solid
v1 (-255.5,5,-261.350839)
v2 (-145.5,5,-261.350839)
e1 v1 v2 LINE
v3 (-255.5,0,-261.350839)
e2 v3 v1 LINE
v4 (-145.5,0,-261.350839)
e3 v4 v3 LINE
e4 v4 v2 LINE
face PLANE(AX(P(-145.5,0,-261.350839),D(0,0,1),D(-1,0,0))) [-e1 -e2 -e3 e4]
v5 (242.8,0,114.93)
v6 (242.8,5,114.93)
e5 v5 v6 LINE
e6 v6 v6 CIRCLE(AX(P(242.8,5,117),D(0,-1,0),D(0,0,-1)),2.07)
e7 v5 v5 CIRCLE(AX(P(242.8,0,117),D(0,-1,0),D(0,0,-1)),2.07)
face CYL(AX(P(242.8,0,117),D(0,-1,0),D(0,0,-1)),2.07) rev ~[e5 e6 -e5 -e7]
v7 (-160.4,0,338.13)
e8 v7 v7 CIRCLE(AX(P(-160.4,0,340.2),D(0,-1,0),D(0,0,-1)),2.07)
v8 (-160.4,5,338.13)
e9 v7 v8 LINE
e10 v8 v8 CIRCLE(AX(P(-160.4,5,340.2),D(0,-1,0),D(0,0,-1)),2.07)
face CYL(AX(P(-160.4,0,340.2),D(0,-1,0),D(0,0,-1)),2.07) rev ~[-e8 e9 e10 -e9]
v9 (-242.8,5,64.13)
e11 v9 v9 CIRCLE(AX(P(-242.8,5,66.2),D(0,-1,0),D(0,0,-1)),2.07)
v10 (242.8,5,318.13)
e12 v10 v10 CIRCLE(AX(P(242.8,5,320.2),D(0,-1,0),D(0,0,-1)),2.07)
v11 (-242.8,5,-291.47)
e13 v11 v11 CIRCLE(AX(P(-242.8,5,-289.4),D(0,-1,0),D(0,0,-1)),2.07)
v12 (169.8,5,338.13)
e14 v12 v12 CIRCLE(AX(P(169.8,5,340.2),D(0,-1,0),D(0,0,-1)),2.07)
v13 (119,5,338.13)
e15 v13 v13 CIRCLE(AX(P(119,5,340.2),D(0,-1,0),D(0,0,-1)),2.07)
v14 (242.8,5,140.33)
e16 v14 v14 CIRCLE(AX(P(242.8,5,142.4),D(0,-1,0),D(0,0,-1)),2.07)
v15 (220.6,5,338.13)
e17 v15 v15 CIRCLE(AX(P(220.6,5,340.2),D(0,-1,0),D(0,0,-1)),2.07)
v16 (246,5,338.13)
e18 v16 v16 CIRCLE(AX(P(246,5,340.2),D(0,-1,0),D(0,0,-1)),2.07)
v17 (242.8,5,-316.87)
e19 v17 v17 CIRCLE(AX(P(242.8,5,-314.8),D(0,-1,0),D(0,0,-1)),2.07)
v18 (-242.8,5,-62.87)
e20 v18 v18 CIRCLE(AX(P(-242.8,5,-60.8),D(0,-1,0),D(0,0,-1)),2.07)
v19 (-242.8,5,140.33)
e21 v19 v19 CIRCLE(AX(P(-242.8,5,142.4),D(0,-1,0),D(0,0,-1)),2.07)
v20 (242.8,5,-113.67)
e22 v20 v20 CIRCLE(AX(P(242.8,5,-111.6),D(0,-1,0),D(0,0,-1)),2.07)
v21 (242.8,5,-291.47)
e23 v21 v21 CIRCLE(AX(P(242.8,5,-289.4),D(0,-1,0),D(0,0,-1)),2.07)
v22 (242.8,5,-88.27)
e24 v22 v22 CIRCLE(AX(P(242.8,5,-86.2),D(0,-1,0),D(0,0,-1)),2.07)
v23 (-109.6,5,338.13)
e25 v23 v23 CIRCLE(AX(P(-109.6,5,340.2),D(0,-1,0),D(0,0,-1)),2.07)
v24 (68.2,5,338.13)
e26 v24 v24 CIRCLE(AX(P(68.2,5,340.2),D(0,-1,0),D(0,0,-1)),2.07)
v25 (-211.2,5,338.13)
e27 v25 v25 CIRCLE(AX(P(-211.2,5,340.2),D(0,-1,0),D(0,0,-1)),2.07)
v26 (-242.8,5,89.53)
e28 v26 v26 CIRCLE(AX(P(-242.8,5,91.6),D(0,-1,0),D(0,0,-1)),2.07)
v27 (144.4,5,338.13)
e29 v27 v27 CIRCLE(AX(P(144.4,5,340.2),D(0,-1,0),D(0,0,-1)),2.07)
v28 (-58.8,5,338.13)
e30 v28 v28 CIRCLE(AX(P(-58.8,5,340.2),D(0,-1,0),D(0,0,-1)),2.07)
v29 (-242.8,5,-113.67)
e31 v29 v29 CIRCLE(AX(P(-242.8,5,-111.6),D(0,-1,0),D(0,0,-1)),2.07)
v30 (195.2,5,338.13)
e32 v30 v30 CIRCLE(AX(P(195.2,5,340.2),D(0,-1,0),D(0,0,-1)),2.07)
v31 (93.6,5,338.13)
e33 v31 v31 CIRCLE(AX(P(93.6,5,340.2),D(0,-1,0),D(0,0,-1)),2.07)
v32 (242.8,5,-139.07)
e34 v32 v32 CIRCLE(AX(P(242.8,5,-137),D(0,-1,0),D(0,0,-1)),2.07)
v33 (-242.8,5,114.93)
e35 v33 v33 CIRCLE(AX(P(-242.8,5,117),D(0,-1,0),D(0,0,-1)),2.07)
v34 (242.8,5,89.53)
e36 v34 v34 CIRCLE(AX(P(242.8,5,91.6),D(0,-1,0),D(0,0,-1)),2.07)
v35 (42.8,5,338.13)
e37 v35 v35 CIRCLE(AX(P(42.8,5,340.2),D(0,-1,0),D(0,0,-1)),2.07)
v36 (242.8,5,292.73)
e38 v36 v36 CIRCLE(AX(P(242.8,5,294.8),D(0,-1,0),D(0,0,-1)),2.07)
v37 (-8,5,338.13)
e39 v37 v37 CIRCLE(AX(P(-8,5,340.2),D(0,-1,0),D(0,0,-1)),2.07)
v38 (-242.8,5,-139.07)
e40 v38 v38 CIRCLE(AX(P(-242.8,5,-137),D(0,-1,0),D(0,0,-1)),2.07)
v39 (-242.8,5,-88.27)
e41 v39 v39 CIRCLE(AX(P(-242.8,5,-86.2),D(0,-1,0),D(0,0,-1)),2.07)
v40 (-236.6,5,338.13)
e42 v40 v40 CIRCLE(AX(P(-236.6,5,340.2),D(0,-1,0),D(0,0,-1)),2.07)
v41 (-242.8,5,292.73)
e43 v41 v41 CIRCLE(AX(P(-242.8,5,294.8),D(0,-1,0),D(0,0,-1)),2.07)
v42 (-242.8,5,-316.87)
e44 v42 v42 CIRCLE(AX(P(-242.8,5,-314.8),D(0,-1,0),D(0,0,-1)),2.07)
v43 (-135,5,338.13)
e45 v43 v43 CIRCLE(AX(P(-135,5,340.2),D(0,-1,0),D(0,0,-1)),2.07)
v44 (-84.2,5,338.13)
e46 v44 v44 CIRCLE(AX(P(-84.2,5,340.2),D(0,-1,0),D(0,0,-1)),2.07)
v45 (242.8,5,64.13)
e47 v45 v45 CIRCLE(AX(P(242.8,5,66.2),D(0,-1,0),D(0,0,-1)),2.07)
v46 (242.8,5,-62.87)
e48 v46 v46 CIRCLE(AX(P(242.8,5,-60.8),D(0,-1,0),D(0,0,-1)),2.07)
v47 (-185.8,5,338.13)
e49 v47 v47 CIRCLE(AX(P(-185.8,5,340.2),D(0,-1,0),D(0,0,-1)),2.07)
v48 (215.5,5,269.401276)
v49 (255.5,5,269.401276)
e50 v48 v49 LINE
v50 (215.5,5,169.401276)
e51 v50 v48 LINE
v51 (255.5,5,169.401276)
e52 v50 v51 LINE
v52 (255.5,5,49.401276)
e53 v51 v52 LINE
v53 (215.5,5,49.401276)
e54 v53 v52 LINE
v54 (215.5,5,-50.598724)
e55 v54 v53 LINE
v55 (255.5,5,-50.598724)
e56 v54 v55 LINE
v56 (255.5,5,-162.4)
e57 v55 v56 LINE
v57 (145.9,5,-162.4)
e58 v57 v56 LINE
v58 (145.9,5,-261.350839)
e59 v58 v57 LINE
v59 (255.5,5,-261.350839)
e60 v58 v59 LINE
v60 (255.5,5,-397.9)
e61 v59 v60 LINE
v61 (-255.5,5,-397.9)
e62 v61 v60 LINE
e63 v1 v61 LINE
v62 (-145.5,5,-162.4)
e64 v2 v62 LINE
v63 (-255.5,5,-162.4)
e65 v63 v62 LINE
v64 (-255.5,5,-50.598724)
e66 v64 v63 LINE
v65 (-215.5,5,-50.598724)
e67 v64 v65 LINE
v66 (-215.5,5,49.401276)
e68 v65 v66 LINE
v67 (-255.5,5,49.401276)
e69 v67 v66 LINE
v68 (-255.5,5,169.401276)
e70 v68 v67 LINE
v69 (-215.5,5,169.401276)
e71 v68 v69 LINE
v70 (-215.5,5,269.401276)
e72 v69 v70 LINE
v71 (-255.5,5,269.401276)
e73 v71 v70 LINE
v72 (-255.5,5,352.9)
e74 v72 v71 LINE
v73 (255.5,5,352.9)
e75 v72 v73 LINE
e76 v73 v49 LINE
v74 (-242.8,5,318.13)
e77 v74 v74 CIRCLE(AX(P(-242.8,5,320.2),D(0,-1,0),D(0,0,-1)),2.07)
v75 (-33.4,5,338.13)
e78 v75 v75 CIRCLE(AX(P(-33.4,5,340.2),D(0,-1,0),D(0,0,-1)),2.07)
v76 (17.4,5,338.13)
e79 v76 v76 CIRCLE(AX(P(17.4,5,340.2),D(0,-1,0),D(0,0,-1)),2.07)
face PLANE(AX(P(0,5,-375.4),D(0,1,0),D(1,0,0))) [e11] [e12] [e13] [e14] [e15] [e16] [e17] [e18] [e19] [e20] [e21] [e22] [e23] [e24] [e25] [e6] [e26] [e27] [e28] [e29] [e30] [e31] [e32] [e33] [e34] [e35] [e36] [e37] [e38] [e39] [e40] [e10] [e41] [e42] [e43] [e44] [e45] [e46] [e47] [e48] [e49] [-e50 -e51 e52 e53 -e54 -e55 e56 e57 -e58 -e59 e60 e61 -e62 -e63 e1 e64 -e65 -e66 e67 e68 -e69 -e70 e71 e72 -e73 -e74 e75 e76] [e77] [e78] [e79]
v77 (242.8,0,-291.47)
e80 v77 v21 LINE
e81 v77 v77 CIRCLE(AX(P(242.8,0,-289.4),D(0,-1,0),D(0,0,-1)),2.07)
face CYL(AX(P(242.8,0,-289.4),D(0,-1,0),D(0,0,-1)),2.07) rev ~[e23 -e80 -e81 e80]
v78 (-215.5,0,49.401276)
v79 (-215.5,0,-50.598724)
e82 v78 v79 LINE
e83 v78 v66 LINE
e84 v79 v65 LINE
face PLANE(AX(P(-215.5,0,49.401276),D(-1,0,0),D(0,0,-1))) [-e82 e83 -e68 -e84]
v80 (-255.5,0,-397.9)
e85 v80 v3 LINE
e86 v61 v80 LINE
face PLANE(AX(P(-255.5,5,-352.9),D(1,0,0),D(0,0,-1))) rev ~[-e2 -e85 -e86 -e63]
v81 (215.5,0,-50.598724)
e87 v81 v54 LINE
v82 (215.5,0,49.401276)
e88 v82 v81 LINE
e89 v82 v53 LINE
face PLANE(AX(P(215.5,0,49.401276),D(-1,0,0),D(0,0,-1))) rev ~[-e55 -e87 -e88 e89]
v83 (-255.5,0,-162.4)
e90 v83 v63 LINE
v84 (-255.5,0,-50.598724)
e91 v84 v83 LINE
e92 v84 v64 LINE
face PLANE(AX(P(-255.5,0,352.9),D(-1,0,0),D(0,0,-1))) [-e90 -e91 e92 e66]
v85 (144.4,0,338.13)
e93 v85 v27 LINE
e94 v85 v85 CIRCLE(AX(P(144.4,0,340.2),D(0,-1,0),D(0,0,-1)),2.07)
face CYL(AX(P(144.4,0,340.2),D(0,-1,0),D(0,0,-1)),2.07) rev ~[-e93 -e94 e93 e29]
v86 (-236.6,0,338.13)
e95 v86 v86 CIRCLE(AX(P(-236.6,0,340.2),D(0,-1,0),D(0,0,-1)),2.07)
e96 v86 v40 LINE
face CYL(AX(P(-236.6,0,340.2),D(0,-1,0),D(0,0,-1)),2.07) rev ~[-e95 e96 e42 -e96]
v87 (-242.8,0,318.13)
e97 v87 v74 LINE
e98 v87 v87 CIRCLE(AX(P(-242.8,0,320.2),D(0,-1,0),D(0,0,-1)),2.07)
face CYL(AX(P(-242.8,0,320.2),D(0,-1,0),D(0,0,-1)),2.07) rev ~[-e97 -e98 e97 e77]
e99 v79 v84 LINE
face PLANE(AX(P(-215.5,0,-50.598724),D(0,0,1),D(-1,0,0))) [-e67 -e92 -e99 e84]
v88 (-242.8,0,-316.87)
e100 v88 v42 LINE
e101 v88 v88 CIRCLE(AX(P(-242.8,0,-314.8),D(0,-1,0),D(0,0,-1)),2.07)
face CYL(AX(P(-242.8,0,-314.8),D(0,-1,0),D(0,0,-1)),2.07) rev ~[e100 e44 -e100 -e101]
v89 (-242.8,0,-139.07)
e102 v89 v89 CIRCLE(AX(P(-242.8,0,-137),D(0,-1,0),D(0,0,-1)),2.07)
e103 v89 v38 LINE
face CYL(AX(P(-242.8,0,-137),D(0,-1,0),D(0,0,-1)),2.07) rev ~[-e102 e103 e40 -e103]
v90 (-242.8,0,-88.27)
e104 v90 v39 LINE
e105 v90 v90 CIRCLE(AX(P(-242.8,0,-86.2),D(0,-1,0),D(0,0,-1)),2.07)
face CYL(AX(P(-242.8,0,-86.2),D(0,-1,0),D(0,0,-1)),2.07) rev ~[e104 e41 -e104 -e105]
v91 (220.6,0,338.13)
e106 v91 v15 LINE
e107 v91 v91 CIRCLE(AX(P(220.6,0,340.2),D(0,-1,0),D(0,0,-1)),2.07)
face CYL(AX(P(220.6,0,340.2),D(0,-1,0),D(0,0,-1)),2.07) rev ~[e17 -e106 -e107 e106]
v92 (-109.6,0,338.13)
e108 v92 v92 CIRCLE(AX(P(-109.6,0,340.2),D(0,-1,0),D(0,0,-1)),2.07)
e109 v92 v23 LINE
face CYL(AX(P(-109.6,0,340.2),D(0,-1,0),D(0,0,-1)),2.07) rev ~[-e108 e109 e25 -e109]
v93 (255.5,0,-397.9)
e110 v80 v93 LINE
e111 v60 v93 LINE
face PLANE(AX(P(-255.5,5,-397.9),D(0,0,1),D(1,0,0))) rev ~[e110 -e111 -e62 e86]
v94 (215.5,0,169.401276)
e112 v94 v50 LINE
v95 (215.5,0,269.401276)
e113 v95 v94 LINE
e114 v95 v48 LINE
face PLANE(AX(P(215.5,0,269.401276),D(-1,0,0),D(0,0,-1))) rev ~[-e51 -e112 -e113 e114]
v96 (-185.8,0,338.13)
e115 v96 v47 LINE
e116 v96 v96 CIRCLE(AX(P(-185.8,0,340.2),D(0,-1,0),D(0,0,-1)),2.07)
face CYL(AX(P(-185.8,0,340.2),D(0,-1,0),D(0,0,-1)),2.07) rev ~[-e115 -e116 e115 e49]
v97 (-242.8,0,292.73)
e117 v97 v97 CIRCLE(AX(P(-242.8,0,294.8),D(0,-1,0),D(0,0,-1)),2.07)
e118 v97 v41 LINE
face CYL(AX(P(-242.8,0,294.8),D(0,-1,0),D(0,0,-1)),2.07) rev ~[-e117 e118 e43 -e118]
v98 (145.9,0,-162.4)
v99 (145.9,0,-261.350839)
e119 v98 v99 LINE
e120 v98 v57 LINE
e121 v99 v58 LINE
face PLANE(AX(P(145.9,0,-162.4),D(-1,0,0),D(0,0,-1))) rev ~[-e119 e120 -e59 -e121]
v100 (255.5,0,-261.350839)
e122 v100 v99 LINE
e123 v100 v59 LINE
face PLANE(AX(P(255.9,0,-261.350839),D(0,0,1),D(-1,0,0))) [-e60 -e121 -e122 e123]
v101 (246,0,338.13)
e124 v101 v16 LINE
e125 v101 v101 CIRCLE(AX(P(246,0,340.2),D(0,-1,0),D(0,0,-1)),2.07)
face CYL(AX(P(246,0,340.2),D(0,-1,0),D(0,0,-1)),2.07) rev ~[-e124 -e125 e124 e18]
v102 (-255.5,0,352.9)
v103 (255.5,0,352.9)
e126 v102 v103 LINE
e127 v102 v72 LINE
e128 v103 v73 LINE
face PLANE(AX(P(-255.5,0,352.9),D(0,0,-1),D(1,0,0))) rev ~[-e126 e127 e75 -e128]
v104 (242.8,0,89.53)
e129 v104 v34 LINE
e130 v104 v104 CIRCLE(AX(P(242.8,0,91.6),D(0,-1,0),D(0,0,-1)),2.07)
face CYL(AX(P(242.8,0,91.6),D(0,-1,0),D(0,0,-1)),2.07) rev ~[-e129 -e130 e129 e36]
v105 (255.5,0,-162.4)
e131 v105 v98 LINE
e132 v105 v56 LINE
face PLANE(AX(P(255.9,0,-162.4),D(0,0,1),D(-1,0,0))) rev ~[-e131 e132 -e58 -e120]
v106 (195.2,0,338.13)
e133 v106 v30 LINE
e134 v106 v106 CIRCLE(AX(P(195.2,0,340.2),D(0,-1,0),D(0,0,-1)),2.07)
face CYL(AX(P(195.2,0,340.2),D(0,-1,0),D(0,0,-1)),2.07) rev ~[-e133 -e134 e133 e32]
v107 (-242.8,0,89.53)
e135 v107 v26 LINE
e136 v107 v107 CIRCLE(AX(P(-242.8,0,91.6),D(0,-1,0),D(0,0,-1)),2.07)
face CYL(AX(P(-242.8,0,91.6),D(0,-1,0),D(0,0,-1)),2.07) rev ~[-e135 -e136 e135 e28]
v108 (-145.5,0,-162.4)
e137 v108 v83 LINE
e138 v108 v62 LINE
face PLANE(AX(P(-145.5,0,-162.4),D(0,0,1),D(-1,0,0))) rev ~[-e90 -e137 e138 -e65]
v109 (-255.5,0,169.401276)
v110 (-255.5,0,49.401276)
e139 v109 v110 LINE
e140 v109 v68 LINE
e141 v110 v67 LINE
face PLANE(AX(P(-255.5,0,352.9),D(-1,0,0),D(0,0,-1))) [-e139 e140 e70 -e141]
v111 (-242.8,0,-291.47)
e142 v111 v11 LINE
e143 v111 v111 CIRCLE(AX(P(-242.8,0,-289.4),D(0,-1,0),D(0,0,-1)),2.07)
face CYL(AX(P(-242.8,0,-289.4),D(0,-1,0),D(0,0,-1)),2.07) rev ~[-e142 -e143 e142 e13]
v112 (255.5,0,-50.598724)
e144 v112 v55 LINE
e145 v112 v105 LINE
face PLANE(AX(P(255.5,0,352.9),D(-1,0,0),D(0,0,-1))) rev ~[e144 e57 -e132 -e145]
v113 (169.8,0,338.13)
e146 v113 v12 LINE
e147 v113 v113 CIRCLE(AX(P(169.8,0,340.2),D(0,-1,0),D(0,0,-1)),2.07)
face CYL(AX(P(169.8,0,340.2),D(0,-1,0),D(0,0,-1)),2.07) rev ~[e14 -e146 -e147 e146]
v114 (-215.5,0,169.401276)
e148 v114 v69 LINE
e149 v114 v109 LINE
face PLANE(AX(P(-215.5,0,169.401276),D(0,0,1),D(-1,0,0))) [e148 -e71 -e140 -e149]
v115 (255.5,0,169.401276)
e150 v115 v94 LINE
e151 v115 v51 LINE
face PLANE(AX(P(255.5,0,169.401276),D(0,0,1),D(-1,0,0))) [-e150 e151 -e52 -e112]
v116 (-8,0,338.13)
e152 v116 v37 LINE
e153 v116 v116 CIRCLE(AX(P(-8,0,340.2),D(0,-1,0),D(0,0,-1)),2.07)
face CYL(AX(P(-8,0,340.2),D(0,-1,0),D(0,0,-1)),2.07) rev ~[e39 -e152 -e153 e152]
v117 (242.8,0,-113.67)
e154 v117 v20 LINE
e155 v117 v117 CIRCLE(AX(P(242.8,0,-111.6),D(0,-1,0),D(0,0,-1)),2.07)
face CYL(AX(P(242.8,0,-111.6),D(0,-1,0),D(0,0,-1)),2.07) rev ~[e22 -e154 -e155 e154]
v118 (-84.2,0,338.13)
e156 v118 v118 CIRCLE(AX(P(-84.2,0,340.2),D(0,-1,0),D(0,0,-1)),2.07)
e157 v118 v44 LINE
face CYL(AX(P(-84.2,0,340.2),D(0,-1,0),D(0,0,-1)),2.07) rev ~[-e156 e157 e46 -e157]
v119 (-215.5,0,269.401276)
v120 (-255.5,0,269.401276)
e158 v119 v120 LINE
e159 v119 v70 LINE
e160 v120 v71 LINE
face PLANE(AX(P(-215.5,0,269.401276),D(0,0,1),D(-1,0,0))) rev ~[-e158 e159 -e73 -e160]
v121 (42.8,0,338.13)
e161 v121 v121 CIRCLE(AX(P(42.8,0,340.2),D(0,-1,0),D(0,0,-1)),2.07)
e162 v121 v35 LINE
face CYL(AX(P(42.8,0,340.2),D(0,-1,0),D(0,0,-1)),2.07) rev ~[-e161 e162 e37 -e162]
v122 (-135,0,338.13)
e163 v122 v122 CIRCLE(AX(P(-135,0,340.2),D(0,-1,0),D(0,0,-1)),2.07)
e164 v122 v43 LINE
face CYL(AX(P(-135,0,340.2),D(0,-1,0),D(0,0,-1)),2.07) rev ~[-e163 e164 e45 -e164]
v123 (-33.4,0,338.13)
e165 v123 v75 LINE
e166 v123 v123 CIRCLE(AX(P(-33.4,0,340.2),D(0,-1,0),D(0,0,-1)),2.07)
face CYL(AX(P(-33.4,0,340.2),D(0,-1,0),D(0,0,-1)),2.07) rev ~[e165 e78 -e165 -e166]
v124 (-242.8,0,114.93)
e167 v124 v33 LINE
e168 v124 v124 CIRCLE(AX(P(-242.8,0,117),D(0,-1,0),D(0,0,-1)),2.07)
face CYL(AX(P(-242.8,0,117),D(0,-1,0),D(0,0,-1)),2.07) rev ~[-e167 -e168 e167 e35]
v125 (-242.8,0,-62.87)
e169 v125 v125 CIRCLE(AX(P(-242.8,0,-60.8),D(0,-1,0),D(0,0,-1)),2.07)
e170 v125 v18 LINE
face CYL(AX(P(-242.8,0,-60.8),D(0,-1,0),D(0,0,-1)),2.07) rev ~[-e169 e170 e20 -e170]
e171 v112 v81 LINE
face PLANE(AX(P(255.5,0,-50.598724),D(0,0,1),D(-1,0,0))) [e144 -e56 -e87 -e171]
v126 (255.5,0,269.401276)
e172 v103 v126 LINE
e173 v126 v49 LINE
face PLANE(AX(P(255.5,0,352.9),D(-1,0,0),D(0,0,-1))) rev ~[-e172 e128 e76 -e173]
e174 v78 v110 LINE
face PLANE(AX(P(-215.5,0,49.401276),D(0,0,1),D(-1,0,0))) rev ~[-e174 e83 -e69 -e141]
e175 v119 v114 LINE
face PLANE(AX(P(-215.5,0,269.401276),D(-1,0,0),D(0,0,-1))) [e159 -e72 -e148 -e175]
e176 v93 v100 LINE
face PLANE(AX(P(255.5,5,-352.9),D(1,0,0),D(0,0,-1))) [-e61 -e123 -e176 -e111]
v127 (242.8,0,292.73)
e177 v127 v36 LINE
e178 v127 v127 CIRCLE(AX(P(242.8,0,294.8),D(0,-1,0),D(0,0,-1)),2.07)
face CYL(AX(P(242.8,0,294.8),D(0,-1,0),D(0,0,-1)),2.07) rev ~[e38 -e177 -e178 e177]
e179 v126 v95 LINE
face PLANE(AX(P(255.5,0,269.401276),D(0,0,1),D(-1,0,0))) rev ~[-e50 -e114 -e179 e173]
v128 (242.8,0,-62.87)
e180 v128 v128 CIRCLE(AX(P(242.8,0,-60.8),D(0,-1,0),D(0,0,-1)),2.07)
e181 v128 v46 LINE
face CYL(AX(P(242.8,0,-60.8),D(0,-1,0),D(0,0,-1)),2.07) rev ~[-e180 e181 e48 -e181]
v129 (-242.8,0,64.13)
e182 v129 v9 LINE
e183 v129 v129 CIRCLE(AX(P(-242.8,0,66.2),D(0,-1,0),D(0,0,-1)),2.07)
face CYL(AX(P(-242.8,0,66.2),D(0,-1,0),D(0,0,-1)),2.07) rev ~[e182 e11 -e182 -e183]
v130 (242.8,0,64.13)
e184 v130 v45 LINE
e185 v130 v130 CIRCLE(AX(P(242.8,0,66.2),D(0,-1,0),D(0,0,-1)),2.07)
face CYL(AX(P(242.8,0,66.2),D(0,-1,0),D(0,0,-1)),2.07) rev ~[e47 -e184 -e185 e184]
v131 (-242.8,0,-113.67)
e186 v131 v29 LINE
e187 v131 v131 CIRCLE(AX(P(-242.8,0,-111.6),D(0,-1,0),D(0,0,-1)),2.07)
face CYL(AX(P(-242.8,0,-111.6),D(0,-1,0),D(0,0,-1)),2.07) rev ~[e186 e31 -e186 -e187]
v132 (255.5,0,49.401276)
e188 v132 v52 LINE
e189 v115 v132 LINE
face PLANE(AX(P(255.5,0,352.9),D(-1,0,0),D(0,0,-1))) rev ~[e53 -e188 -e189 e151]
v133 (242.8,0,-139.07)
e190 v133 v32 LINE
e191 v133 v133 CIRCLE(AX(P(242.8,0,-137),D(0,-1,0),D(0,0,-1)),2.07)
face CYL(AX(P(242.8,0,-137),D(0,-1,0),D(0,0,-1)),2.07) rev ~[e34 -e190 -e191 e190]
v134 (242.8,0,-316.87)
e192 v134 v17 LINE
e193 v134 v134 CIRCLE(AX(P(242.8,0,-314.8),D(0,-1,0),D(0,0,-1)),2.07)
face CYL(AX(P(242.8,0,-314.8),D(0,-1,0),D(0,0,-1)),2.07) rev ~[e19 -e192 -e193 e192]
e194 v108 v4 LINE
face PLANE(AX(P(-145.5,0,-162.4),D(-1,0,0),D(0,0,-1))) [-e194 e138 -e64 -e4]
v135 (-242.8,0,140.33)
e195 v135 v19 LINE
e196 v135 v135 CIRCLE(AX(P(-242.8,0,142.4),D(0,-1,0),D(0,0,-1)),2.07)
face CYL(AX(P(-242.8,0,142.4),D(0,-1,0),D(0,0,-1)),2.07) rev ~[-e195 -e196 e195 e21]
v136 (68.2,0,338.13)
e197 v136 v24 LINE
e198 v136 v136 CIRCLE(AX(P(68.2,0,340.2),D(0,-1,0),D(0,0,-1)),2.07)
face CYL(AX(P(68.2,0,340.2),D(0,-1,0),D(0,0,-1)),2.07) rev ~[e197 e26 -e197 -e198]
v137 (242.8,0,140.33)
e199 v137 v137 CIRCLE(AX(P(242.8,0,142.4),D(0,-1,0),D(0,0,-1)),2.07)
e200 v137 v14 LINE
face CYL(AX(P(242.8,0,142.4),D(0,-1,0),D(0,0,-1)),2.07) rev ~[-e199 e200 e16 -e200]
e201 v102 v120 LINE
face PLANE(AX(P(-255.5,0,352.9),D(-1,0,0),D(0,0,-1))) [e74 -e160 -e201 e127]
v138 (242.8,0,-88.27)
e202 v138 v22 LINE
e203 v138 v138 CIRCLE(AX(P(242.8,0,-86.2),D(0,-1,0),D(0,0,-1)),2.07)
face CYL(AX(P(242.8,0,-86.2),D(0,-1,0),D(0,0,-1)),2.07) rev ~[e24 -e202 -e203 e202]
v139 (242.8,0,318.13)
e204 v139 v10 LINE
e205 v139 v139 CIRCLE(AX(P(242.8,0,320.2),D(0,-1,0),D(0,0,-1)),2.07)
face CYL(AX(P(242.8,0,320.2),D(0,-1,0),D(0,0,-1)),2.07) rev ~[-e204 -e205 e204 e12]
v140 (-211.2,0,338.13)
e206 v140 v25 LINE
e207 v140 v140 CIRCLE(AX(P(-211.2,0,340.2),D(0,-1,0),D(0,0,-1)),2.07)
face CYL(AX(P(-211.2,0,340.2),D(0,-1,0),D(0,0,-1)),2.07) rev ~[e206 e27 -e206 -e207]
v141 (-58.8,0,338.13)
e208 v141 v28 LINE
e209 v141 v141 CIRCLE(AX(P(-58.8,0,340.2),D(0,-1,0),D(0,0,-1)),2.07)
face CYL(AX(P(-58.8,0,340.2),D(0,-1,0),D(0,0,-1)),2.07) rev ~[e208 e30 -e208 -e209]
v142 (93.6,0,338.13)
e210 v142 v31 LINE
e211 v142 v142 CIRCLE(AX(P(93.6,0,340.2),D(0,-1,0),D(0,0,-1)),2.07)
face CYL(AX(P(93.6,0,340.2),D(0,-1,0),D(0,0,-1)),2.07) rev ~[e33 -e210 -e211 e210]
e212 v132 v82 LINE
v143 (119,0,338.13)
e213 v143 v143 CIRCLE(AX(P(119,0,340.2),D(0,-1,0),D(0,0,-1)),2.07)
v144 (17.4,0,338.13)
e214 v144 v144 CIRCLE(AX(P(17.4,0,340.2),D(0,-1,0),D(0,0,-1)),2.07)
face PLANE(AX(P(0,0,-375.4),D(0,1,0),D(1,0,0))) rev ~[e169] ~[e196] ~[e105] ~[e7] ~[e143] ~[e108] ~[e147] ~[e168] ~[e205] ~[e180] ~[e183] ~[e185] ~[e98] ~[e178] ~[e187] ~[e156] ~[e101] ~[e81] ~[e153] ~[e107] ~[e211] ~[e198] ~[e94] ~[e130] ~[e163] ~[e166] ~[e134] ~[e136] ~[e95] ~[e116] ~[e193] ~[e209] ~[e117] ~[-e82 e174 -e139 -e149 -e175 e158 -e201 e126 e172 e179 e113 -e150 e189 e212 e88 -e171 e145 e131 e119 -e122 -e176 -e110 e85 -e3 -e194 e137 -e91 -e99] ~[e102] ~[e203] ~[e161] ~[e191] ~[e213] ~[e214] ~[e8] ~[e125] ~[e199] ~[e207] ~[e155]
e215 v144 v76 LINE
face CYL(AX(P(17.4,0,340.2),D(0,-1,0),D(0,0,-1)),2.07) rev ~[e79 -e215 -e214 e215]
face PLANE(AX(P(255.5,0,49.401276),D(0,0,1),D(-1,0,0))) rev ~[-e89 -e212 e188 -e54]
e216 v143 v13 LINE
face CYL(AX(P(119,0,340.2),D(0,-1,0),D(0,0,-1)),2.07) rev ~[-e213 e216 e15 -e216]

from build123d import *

# Parameters (mm, degrees)
CROQUIS1_W              = 511
CROQUIS1_H              = 705.8
SALIENTE_EXTRUIR1_DEPTH = 5
CROQUIS2_W              = 40
CROQUIS2_H              = 100
CORTAR_EXTRUIR1_DEPTH   = 10
CROQUIS4_W              = 110
CROQUIS4_H              = 98.950839499
CORTAR_EXTRUIR3_DEPTH   = 10
CROQUIS7_R              = 2.07
CORTAR_EXTRUIR6_DEPTH   = 10
CROQUIS8_R              = 2.07
CORTAR_EXTRUIR7_DEPTH   = 10
CROQUIS9_W              = 511
CROQUIS9_H              = 45
SALIENTE_EXTRUIR2_DEPTH = 5


with BuildPart() as part:
    # Croquis1 → Saliente-Extruir1 (new body)
    with BuildSketch(Plane(origin=(0, 0, 0), x_dir=(1, 0, 0), z_dir=(0, 1, 0))):
        Rectangle(CROQUIS1_W, CROQUIS1_H)
    extrude(amount=SALIENTE_EXTRUIR1_DEPTH)

    # Croquis2 → Cortar-Extruir1 (cut)
    with BuildSketch(Plane(origin=(0, 0, 0), x_dir=(-1, 0, 0), z_dir=(0, -1, 0))):
        with Locations((235.5, -219.401276077)):
            Rectangle(CROQUIS2_W, CROQUIS2_H)
        with Locations((-235.5, -219.401276077)):
            Rectangle(CROQUIS2_W, CROQUIS2_H)
        with Locations((235.5, 0.598723923)):
            Rectangle(CROQUIS2_W, CROQUIS2_H)
        with Locations((-235.5, 0.598723923)):
            Rectangle(CROQUIS2_W, CROQUIS2_H)
    extrude(amount=-CORTAR_EXTRUIR1_DEPTH, mode=Mode.SUBTRACT)

    # Croquis4 → Cortar-Extruir3 (cut)
    with BuildSketch(Plane(origin=(0, 0, 0), x_dir=(-1, 0, 0), z_dir=(0, -1, 0))):
        with Locations((200.5, 211.875419749)):
            Rectangle(CROQUIS4_W, CROQUIS4_H)
        with Locations((-200.9, 211.875419749)):
            Rectangle(CROQUIS4_W, CROQUIS4_H)
    extrude(amount=-CORTAR_EXTRUIR3_DEPTH, mode=Mode.SUBTRACT)

    # Croquis7 → Cortar-Extruir6 (cut)
    with BuildSketch(Plane(origin=(0, 0, 0), x_dir=(-1, 0, 0), z_dir=(0, -1, 0))):
        with Locations(Location((236.6, -340.2, 0), (0, 0, 90))):
            Circle(CROQUIS7_R)
        with Locations(Location((211.2, -340.2, 0), (0, 0, 90))):
            Circle(CROQUIS7_R)
        with Locations(Location((185.8, -340.2, 0), (0, 0, 90))):
            Circle(CROQUIS7_R)
        with Locations(Location((160.4, -340.2, 0), (0, 0, 90))):
            Circle(CROQUIS7_R)
        with Locations(Location((135, -340.2, 0), (0, 0, 90))):
            Circle(CROQUIS7_R)
        with Locations(Location((109.6, -340.2, 0), (0, 0, 90))):
            Circle(CROQUIS7_R)
        with Locations(Location((84.2, -340.2, 0), (0, 0, 90))):
            Circle(CROQUIS7_R)
        with Locations(Location((58.8, -340.2, 0), (0, 0, 90))):
            Circle(CROQUIS7_R)
        with Locations(Location((33.4, -340.2, 0), (0, 0, 90))):
            Circle(CROQUIS7_R)
        with Locations(Location((8, -340.2, 0), (0, 0, 90))):
            Circle(CROQUIS7_R)
        with Locations(Location((-17.4, -340.2, 0), (0, 0, 90))):
            Circle(CROQUIS7_R)
        with Locations(Location((-42.8, -340.2, 0), (0, 0, 90))):
            Circle(CROQUIS7_R)
        with Locations(Location((-68.2, -340.2, 0), (0, 0, 90))):
            Circle(CROQUIS7_R)
        with Locations(Location((-93.6, -340.2, 0), (0, 0, 90))):
            Circle(CROQUIS7_R)
        with Locations(Location((-119, -340.2, 0), (0, 0, 90))):
            Circle(CROQUIS7_R)
        with Locations(Location((-144.4, -340.2, 0), (0, 0, 90))):
            Circle(CROQUIS7_R)
        with Locations(Location((-169.8, -340.2, 0), (0, 0, 90))):
            Circle(CROQUIS7_R)
        with Locations(Location((-195.2, -340.2, 0), (0, 0, 90))):
            Circle(CROQUIS7_R)
        with Locations(Location((-220.6, -340.2, 0), (0, 0, 90))):
            Circle(CROQUIS7_R)
        with Locations(Location((-246, -340.2, 0), (0, 0, 90))):
            Circle(CROQUIS7_R)
        with Locations(Location((242.8, -320.2, 0), (0, 0, 90))):
            Circle(CROQUIS7_R)
        with Locations(Location((242.8, -294.8, 0), (0, 0, 90))):
            Circle(CROQUIS7_R)
        with Locations(Location((242.8, -142.4, 0), (0, 0, 90))):
            Circle(CROQUIS7_R)
        with Locations(Location((242.8, -117, 0), (0, 0, 90))):
            Circle(CROQUIS7_R)
        with Locations(Location((242.8, -91.6, 0), (0, 0, 90))):
            Circle(CROQUIS7_R)
        with Locations(Location((242.8, -66.2, 0), (0, 0, 90))):
            Circle(CROQUIS7_R)
        with Locations(Location((242.8, 60.8, 0), (0, 0, 90))):
            Circle(CROQUIS7_R)
        with Locations(Location((242.8, 86.2, 0), (0, 0, 90))):
            Circle(CROQUIS7_R)
        with Locations(Location((242.8, 111.6, 0), (0, 0, 90))):
            Circle(CROQUIS7_R)
        with Locations(Location((242.8, 137, 0), (0, 0, 90))):
            Circle(CROQUIS7_R)
        with Locations(Location((242.8, 289.4, 0), (0, 0, 90))):
            Circle(CROQUIS7_R)
        with Locations(Location((242.8, 314.8, 0), (0, 0, 90))):
            Circle(CROQUIS7_R)
    extrude(amount=-CORTAR_EXTRUIR6_DEPTH, mode=Mode.SUBTRACT)

    # Croquis8 → Cortar-Extruir7 (cut)
    with BuildSketch(Plane(origin=(0, 0, 0), x_dir=(-1, 0, 0), z_dir=(0, -1, 0))):
        with Locations((246, 385.2)):
            Circle(CROQUIS8_R)
        with Locations((220.6, 385.2)):
            Circle(CROQUIS8_R)
        with Locations((195.2, 385.2)):
            Circle(CROQUIS8_R)
        with Locations((169.8, 385.2)):
            Circle(CROQUIS8_R)
        with Locations((144.4, 385.2)):
            Circle(CROQUIS8_R)
        with Locations((119, 385.2)):
            Circle(CROQUIS8_R)
        with Locations((93.6, 385.2)):
            Circle(CROQUIS8_R)
        with Locations((68.2, 385.2)):
            Circle(CROQUIS8_R)
        with Locations((42.8, 385.2)):
            Circle(CROQUIS8_R)
        with Locations((17.4, 385.2)):
            Circle(CROQUIS8_R)
        with Locations((-8, 385.2)):
            Circle(CROQUIS8_R)
        with Locations((-33.4, 385.2)):
            Circle(CROQUIS8_R)
        with Locations((-58.8, 385.2)):
            Circle(CROQUIS8_R)
        with Locations((-84.2, 385.2)):
            Circle(CROQUIS8_R)
        with Locations((-109.6, 385.2)):
            Circle(CROQUIS8_R)
        with Locations((-135, 385.2)):
            Circle(CROQUIS8_R)
        with Locations((-160.4, 385.2)):
            Circle(CROQUIS8_R)
        with Locations((-185.8, 385.2)):
            Circle(CROQUIS8_R)
        with Locations((-211.2, 385.2)):
            Circle(CROQUIS8_R)
        with Locations((-236.6, 385.2)):
            Circle(CROQUIS8_R)
        with Locations(Location((-242.8, 314.8, 0), (0, 0, 90))):
            Circle(CROQUIS8_R)
        with Locations(Location((-242.8, 289.4, 0), (0, 0, 90))):
            Circle(CROQUIS8_R)
        with Locations(Location((-242.8, 137, 0), (0, 0, 90))):
            Circle(CROQUIS8_R)
        with Locations(Location((-242.8, 111.6, 0), (0, 0, 90))):
            Circle(CROQUIS8_R)
        with Locations(Location((-242.8, 86.2, 0), (0, 0, 90))):
            Circle(CROQUIS8_R)
        with Locations(Location((-242.8, 60.8, 0), (0, 0, 90))):
            Circle(CROQUIS8_R)
        with Locations(Location((-242.8, -66.2, 0), (0, 0, 90))):
            Circle(CROQUIS8_R)
        with Locations(Location((-242.8, -91.6, 0), (0, 0, 90))):
            Circle(CROQUIS8_R)
        with Locations(Location((-242.8, -117, 0), (0, 0, 90))):
            Circle(CROQUIS8_R)
        with Locations(Location((-242.8, -142.4, 0), (0, 0, 90))):
            Circle(CROQUIS8_R)
        with Locations(Location((-242.8, -294.8, 0), (0, 0, 90))):
            Circle(CROQUIS8_R)
        with Locations(Location((-242.8, -320.2, 0), (0, 0, 90))):
            Circle(CROQUIS8_R)
    extrude(amount=-CORTAR_EXTRUIR7_DEPTH, mode=Mode.SUBTRACT)

    # Croquis9 → Saliente-Extruir2 (add)
    with BuildSketch(Plane(origin=(0, 5, 0), x_dir=(1, 0, 0), z_dir=(0, 1, 0))):
        with Locations((0, 375.4)):
            Rectangle(CROQUIS9_W, CROQUIS9_H)
    extrude(amount=-SALIENTE_EXTRUIR2_DEPTH)


solid = part.part
